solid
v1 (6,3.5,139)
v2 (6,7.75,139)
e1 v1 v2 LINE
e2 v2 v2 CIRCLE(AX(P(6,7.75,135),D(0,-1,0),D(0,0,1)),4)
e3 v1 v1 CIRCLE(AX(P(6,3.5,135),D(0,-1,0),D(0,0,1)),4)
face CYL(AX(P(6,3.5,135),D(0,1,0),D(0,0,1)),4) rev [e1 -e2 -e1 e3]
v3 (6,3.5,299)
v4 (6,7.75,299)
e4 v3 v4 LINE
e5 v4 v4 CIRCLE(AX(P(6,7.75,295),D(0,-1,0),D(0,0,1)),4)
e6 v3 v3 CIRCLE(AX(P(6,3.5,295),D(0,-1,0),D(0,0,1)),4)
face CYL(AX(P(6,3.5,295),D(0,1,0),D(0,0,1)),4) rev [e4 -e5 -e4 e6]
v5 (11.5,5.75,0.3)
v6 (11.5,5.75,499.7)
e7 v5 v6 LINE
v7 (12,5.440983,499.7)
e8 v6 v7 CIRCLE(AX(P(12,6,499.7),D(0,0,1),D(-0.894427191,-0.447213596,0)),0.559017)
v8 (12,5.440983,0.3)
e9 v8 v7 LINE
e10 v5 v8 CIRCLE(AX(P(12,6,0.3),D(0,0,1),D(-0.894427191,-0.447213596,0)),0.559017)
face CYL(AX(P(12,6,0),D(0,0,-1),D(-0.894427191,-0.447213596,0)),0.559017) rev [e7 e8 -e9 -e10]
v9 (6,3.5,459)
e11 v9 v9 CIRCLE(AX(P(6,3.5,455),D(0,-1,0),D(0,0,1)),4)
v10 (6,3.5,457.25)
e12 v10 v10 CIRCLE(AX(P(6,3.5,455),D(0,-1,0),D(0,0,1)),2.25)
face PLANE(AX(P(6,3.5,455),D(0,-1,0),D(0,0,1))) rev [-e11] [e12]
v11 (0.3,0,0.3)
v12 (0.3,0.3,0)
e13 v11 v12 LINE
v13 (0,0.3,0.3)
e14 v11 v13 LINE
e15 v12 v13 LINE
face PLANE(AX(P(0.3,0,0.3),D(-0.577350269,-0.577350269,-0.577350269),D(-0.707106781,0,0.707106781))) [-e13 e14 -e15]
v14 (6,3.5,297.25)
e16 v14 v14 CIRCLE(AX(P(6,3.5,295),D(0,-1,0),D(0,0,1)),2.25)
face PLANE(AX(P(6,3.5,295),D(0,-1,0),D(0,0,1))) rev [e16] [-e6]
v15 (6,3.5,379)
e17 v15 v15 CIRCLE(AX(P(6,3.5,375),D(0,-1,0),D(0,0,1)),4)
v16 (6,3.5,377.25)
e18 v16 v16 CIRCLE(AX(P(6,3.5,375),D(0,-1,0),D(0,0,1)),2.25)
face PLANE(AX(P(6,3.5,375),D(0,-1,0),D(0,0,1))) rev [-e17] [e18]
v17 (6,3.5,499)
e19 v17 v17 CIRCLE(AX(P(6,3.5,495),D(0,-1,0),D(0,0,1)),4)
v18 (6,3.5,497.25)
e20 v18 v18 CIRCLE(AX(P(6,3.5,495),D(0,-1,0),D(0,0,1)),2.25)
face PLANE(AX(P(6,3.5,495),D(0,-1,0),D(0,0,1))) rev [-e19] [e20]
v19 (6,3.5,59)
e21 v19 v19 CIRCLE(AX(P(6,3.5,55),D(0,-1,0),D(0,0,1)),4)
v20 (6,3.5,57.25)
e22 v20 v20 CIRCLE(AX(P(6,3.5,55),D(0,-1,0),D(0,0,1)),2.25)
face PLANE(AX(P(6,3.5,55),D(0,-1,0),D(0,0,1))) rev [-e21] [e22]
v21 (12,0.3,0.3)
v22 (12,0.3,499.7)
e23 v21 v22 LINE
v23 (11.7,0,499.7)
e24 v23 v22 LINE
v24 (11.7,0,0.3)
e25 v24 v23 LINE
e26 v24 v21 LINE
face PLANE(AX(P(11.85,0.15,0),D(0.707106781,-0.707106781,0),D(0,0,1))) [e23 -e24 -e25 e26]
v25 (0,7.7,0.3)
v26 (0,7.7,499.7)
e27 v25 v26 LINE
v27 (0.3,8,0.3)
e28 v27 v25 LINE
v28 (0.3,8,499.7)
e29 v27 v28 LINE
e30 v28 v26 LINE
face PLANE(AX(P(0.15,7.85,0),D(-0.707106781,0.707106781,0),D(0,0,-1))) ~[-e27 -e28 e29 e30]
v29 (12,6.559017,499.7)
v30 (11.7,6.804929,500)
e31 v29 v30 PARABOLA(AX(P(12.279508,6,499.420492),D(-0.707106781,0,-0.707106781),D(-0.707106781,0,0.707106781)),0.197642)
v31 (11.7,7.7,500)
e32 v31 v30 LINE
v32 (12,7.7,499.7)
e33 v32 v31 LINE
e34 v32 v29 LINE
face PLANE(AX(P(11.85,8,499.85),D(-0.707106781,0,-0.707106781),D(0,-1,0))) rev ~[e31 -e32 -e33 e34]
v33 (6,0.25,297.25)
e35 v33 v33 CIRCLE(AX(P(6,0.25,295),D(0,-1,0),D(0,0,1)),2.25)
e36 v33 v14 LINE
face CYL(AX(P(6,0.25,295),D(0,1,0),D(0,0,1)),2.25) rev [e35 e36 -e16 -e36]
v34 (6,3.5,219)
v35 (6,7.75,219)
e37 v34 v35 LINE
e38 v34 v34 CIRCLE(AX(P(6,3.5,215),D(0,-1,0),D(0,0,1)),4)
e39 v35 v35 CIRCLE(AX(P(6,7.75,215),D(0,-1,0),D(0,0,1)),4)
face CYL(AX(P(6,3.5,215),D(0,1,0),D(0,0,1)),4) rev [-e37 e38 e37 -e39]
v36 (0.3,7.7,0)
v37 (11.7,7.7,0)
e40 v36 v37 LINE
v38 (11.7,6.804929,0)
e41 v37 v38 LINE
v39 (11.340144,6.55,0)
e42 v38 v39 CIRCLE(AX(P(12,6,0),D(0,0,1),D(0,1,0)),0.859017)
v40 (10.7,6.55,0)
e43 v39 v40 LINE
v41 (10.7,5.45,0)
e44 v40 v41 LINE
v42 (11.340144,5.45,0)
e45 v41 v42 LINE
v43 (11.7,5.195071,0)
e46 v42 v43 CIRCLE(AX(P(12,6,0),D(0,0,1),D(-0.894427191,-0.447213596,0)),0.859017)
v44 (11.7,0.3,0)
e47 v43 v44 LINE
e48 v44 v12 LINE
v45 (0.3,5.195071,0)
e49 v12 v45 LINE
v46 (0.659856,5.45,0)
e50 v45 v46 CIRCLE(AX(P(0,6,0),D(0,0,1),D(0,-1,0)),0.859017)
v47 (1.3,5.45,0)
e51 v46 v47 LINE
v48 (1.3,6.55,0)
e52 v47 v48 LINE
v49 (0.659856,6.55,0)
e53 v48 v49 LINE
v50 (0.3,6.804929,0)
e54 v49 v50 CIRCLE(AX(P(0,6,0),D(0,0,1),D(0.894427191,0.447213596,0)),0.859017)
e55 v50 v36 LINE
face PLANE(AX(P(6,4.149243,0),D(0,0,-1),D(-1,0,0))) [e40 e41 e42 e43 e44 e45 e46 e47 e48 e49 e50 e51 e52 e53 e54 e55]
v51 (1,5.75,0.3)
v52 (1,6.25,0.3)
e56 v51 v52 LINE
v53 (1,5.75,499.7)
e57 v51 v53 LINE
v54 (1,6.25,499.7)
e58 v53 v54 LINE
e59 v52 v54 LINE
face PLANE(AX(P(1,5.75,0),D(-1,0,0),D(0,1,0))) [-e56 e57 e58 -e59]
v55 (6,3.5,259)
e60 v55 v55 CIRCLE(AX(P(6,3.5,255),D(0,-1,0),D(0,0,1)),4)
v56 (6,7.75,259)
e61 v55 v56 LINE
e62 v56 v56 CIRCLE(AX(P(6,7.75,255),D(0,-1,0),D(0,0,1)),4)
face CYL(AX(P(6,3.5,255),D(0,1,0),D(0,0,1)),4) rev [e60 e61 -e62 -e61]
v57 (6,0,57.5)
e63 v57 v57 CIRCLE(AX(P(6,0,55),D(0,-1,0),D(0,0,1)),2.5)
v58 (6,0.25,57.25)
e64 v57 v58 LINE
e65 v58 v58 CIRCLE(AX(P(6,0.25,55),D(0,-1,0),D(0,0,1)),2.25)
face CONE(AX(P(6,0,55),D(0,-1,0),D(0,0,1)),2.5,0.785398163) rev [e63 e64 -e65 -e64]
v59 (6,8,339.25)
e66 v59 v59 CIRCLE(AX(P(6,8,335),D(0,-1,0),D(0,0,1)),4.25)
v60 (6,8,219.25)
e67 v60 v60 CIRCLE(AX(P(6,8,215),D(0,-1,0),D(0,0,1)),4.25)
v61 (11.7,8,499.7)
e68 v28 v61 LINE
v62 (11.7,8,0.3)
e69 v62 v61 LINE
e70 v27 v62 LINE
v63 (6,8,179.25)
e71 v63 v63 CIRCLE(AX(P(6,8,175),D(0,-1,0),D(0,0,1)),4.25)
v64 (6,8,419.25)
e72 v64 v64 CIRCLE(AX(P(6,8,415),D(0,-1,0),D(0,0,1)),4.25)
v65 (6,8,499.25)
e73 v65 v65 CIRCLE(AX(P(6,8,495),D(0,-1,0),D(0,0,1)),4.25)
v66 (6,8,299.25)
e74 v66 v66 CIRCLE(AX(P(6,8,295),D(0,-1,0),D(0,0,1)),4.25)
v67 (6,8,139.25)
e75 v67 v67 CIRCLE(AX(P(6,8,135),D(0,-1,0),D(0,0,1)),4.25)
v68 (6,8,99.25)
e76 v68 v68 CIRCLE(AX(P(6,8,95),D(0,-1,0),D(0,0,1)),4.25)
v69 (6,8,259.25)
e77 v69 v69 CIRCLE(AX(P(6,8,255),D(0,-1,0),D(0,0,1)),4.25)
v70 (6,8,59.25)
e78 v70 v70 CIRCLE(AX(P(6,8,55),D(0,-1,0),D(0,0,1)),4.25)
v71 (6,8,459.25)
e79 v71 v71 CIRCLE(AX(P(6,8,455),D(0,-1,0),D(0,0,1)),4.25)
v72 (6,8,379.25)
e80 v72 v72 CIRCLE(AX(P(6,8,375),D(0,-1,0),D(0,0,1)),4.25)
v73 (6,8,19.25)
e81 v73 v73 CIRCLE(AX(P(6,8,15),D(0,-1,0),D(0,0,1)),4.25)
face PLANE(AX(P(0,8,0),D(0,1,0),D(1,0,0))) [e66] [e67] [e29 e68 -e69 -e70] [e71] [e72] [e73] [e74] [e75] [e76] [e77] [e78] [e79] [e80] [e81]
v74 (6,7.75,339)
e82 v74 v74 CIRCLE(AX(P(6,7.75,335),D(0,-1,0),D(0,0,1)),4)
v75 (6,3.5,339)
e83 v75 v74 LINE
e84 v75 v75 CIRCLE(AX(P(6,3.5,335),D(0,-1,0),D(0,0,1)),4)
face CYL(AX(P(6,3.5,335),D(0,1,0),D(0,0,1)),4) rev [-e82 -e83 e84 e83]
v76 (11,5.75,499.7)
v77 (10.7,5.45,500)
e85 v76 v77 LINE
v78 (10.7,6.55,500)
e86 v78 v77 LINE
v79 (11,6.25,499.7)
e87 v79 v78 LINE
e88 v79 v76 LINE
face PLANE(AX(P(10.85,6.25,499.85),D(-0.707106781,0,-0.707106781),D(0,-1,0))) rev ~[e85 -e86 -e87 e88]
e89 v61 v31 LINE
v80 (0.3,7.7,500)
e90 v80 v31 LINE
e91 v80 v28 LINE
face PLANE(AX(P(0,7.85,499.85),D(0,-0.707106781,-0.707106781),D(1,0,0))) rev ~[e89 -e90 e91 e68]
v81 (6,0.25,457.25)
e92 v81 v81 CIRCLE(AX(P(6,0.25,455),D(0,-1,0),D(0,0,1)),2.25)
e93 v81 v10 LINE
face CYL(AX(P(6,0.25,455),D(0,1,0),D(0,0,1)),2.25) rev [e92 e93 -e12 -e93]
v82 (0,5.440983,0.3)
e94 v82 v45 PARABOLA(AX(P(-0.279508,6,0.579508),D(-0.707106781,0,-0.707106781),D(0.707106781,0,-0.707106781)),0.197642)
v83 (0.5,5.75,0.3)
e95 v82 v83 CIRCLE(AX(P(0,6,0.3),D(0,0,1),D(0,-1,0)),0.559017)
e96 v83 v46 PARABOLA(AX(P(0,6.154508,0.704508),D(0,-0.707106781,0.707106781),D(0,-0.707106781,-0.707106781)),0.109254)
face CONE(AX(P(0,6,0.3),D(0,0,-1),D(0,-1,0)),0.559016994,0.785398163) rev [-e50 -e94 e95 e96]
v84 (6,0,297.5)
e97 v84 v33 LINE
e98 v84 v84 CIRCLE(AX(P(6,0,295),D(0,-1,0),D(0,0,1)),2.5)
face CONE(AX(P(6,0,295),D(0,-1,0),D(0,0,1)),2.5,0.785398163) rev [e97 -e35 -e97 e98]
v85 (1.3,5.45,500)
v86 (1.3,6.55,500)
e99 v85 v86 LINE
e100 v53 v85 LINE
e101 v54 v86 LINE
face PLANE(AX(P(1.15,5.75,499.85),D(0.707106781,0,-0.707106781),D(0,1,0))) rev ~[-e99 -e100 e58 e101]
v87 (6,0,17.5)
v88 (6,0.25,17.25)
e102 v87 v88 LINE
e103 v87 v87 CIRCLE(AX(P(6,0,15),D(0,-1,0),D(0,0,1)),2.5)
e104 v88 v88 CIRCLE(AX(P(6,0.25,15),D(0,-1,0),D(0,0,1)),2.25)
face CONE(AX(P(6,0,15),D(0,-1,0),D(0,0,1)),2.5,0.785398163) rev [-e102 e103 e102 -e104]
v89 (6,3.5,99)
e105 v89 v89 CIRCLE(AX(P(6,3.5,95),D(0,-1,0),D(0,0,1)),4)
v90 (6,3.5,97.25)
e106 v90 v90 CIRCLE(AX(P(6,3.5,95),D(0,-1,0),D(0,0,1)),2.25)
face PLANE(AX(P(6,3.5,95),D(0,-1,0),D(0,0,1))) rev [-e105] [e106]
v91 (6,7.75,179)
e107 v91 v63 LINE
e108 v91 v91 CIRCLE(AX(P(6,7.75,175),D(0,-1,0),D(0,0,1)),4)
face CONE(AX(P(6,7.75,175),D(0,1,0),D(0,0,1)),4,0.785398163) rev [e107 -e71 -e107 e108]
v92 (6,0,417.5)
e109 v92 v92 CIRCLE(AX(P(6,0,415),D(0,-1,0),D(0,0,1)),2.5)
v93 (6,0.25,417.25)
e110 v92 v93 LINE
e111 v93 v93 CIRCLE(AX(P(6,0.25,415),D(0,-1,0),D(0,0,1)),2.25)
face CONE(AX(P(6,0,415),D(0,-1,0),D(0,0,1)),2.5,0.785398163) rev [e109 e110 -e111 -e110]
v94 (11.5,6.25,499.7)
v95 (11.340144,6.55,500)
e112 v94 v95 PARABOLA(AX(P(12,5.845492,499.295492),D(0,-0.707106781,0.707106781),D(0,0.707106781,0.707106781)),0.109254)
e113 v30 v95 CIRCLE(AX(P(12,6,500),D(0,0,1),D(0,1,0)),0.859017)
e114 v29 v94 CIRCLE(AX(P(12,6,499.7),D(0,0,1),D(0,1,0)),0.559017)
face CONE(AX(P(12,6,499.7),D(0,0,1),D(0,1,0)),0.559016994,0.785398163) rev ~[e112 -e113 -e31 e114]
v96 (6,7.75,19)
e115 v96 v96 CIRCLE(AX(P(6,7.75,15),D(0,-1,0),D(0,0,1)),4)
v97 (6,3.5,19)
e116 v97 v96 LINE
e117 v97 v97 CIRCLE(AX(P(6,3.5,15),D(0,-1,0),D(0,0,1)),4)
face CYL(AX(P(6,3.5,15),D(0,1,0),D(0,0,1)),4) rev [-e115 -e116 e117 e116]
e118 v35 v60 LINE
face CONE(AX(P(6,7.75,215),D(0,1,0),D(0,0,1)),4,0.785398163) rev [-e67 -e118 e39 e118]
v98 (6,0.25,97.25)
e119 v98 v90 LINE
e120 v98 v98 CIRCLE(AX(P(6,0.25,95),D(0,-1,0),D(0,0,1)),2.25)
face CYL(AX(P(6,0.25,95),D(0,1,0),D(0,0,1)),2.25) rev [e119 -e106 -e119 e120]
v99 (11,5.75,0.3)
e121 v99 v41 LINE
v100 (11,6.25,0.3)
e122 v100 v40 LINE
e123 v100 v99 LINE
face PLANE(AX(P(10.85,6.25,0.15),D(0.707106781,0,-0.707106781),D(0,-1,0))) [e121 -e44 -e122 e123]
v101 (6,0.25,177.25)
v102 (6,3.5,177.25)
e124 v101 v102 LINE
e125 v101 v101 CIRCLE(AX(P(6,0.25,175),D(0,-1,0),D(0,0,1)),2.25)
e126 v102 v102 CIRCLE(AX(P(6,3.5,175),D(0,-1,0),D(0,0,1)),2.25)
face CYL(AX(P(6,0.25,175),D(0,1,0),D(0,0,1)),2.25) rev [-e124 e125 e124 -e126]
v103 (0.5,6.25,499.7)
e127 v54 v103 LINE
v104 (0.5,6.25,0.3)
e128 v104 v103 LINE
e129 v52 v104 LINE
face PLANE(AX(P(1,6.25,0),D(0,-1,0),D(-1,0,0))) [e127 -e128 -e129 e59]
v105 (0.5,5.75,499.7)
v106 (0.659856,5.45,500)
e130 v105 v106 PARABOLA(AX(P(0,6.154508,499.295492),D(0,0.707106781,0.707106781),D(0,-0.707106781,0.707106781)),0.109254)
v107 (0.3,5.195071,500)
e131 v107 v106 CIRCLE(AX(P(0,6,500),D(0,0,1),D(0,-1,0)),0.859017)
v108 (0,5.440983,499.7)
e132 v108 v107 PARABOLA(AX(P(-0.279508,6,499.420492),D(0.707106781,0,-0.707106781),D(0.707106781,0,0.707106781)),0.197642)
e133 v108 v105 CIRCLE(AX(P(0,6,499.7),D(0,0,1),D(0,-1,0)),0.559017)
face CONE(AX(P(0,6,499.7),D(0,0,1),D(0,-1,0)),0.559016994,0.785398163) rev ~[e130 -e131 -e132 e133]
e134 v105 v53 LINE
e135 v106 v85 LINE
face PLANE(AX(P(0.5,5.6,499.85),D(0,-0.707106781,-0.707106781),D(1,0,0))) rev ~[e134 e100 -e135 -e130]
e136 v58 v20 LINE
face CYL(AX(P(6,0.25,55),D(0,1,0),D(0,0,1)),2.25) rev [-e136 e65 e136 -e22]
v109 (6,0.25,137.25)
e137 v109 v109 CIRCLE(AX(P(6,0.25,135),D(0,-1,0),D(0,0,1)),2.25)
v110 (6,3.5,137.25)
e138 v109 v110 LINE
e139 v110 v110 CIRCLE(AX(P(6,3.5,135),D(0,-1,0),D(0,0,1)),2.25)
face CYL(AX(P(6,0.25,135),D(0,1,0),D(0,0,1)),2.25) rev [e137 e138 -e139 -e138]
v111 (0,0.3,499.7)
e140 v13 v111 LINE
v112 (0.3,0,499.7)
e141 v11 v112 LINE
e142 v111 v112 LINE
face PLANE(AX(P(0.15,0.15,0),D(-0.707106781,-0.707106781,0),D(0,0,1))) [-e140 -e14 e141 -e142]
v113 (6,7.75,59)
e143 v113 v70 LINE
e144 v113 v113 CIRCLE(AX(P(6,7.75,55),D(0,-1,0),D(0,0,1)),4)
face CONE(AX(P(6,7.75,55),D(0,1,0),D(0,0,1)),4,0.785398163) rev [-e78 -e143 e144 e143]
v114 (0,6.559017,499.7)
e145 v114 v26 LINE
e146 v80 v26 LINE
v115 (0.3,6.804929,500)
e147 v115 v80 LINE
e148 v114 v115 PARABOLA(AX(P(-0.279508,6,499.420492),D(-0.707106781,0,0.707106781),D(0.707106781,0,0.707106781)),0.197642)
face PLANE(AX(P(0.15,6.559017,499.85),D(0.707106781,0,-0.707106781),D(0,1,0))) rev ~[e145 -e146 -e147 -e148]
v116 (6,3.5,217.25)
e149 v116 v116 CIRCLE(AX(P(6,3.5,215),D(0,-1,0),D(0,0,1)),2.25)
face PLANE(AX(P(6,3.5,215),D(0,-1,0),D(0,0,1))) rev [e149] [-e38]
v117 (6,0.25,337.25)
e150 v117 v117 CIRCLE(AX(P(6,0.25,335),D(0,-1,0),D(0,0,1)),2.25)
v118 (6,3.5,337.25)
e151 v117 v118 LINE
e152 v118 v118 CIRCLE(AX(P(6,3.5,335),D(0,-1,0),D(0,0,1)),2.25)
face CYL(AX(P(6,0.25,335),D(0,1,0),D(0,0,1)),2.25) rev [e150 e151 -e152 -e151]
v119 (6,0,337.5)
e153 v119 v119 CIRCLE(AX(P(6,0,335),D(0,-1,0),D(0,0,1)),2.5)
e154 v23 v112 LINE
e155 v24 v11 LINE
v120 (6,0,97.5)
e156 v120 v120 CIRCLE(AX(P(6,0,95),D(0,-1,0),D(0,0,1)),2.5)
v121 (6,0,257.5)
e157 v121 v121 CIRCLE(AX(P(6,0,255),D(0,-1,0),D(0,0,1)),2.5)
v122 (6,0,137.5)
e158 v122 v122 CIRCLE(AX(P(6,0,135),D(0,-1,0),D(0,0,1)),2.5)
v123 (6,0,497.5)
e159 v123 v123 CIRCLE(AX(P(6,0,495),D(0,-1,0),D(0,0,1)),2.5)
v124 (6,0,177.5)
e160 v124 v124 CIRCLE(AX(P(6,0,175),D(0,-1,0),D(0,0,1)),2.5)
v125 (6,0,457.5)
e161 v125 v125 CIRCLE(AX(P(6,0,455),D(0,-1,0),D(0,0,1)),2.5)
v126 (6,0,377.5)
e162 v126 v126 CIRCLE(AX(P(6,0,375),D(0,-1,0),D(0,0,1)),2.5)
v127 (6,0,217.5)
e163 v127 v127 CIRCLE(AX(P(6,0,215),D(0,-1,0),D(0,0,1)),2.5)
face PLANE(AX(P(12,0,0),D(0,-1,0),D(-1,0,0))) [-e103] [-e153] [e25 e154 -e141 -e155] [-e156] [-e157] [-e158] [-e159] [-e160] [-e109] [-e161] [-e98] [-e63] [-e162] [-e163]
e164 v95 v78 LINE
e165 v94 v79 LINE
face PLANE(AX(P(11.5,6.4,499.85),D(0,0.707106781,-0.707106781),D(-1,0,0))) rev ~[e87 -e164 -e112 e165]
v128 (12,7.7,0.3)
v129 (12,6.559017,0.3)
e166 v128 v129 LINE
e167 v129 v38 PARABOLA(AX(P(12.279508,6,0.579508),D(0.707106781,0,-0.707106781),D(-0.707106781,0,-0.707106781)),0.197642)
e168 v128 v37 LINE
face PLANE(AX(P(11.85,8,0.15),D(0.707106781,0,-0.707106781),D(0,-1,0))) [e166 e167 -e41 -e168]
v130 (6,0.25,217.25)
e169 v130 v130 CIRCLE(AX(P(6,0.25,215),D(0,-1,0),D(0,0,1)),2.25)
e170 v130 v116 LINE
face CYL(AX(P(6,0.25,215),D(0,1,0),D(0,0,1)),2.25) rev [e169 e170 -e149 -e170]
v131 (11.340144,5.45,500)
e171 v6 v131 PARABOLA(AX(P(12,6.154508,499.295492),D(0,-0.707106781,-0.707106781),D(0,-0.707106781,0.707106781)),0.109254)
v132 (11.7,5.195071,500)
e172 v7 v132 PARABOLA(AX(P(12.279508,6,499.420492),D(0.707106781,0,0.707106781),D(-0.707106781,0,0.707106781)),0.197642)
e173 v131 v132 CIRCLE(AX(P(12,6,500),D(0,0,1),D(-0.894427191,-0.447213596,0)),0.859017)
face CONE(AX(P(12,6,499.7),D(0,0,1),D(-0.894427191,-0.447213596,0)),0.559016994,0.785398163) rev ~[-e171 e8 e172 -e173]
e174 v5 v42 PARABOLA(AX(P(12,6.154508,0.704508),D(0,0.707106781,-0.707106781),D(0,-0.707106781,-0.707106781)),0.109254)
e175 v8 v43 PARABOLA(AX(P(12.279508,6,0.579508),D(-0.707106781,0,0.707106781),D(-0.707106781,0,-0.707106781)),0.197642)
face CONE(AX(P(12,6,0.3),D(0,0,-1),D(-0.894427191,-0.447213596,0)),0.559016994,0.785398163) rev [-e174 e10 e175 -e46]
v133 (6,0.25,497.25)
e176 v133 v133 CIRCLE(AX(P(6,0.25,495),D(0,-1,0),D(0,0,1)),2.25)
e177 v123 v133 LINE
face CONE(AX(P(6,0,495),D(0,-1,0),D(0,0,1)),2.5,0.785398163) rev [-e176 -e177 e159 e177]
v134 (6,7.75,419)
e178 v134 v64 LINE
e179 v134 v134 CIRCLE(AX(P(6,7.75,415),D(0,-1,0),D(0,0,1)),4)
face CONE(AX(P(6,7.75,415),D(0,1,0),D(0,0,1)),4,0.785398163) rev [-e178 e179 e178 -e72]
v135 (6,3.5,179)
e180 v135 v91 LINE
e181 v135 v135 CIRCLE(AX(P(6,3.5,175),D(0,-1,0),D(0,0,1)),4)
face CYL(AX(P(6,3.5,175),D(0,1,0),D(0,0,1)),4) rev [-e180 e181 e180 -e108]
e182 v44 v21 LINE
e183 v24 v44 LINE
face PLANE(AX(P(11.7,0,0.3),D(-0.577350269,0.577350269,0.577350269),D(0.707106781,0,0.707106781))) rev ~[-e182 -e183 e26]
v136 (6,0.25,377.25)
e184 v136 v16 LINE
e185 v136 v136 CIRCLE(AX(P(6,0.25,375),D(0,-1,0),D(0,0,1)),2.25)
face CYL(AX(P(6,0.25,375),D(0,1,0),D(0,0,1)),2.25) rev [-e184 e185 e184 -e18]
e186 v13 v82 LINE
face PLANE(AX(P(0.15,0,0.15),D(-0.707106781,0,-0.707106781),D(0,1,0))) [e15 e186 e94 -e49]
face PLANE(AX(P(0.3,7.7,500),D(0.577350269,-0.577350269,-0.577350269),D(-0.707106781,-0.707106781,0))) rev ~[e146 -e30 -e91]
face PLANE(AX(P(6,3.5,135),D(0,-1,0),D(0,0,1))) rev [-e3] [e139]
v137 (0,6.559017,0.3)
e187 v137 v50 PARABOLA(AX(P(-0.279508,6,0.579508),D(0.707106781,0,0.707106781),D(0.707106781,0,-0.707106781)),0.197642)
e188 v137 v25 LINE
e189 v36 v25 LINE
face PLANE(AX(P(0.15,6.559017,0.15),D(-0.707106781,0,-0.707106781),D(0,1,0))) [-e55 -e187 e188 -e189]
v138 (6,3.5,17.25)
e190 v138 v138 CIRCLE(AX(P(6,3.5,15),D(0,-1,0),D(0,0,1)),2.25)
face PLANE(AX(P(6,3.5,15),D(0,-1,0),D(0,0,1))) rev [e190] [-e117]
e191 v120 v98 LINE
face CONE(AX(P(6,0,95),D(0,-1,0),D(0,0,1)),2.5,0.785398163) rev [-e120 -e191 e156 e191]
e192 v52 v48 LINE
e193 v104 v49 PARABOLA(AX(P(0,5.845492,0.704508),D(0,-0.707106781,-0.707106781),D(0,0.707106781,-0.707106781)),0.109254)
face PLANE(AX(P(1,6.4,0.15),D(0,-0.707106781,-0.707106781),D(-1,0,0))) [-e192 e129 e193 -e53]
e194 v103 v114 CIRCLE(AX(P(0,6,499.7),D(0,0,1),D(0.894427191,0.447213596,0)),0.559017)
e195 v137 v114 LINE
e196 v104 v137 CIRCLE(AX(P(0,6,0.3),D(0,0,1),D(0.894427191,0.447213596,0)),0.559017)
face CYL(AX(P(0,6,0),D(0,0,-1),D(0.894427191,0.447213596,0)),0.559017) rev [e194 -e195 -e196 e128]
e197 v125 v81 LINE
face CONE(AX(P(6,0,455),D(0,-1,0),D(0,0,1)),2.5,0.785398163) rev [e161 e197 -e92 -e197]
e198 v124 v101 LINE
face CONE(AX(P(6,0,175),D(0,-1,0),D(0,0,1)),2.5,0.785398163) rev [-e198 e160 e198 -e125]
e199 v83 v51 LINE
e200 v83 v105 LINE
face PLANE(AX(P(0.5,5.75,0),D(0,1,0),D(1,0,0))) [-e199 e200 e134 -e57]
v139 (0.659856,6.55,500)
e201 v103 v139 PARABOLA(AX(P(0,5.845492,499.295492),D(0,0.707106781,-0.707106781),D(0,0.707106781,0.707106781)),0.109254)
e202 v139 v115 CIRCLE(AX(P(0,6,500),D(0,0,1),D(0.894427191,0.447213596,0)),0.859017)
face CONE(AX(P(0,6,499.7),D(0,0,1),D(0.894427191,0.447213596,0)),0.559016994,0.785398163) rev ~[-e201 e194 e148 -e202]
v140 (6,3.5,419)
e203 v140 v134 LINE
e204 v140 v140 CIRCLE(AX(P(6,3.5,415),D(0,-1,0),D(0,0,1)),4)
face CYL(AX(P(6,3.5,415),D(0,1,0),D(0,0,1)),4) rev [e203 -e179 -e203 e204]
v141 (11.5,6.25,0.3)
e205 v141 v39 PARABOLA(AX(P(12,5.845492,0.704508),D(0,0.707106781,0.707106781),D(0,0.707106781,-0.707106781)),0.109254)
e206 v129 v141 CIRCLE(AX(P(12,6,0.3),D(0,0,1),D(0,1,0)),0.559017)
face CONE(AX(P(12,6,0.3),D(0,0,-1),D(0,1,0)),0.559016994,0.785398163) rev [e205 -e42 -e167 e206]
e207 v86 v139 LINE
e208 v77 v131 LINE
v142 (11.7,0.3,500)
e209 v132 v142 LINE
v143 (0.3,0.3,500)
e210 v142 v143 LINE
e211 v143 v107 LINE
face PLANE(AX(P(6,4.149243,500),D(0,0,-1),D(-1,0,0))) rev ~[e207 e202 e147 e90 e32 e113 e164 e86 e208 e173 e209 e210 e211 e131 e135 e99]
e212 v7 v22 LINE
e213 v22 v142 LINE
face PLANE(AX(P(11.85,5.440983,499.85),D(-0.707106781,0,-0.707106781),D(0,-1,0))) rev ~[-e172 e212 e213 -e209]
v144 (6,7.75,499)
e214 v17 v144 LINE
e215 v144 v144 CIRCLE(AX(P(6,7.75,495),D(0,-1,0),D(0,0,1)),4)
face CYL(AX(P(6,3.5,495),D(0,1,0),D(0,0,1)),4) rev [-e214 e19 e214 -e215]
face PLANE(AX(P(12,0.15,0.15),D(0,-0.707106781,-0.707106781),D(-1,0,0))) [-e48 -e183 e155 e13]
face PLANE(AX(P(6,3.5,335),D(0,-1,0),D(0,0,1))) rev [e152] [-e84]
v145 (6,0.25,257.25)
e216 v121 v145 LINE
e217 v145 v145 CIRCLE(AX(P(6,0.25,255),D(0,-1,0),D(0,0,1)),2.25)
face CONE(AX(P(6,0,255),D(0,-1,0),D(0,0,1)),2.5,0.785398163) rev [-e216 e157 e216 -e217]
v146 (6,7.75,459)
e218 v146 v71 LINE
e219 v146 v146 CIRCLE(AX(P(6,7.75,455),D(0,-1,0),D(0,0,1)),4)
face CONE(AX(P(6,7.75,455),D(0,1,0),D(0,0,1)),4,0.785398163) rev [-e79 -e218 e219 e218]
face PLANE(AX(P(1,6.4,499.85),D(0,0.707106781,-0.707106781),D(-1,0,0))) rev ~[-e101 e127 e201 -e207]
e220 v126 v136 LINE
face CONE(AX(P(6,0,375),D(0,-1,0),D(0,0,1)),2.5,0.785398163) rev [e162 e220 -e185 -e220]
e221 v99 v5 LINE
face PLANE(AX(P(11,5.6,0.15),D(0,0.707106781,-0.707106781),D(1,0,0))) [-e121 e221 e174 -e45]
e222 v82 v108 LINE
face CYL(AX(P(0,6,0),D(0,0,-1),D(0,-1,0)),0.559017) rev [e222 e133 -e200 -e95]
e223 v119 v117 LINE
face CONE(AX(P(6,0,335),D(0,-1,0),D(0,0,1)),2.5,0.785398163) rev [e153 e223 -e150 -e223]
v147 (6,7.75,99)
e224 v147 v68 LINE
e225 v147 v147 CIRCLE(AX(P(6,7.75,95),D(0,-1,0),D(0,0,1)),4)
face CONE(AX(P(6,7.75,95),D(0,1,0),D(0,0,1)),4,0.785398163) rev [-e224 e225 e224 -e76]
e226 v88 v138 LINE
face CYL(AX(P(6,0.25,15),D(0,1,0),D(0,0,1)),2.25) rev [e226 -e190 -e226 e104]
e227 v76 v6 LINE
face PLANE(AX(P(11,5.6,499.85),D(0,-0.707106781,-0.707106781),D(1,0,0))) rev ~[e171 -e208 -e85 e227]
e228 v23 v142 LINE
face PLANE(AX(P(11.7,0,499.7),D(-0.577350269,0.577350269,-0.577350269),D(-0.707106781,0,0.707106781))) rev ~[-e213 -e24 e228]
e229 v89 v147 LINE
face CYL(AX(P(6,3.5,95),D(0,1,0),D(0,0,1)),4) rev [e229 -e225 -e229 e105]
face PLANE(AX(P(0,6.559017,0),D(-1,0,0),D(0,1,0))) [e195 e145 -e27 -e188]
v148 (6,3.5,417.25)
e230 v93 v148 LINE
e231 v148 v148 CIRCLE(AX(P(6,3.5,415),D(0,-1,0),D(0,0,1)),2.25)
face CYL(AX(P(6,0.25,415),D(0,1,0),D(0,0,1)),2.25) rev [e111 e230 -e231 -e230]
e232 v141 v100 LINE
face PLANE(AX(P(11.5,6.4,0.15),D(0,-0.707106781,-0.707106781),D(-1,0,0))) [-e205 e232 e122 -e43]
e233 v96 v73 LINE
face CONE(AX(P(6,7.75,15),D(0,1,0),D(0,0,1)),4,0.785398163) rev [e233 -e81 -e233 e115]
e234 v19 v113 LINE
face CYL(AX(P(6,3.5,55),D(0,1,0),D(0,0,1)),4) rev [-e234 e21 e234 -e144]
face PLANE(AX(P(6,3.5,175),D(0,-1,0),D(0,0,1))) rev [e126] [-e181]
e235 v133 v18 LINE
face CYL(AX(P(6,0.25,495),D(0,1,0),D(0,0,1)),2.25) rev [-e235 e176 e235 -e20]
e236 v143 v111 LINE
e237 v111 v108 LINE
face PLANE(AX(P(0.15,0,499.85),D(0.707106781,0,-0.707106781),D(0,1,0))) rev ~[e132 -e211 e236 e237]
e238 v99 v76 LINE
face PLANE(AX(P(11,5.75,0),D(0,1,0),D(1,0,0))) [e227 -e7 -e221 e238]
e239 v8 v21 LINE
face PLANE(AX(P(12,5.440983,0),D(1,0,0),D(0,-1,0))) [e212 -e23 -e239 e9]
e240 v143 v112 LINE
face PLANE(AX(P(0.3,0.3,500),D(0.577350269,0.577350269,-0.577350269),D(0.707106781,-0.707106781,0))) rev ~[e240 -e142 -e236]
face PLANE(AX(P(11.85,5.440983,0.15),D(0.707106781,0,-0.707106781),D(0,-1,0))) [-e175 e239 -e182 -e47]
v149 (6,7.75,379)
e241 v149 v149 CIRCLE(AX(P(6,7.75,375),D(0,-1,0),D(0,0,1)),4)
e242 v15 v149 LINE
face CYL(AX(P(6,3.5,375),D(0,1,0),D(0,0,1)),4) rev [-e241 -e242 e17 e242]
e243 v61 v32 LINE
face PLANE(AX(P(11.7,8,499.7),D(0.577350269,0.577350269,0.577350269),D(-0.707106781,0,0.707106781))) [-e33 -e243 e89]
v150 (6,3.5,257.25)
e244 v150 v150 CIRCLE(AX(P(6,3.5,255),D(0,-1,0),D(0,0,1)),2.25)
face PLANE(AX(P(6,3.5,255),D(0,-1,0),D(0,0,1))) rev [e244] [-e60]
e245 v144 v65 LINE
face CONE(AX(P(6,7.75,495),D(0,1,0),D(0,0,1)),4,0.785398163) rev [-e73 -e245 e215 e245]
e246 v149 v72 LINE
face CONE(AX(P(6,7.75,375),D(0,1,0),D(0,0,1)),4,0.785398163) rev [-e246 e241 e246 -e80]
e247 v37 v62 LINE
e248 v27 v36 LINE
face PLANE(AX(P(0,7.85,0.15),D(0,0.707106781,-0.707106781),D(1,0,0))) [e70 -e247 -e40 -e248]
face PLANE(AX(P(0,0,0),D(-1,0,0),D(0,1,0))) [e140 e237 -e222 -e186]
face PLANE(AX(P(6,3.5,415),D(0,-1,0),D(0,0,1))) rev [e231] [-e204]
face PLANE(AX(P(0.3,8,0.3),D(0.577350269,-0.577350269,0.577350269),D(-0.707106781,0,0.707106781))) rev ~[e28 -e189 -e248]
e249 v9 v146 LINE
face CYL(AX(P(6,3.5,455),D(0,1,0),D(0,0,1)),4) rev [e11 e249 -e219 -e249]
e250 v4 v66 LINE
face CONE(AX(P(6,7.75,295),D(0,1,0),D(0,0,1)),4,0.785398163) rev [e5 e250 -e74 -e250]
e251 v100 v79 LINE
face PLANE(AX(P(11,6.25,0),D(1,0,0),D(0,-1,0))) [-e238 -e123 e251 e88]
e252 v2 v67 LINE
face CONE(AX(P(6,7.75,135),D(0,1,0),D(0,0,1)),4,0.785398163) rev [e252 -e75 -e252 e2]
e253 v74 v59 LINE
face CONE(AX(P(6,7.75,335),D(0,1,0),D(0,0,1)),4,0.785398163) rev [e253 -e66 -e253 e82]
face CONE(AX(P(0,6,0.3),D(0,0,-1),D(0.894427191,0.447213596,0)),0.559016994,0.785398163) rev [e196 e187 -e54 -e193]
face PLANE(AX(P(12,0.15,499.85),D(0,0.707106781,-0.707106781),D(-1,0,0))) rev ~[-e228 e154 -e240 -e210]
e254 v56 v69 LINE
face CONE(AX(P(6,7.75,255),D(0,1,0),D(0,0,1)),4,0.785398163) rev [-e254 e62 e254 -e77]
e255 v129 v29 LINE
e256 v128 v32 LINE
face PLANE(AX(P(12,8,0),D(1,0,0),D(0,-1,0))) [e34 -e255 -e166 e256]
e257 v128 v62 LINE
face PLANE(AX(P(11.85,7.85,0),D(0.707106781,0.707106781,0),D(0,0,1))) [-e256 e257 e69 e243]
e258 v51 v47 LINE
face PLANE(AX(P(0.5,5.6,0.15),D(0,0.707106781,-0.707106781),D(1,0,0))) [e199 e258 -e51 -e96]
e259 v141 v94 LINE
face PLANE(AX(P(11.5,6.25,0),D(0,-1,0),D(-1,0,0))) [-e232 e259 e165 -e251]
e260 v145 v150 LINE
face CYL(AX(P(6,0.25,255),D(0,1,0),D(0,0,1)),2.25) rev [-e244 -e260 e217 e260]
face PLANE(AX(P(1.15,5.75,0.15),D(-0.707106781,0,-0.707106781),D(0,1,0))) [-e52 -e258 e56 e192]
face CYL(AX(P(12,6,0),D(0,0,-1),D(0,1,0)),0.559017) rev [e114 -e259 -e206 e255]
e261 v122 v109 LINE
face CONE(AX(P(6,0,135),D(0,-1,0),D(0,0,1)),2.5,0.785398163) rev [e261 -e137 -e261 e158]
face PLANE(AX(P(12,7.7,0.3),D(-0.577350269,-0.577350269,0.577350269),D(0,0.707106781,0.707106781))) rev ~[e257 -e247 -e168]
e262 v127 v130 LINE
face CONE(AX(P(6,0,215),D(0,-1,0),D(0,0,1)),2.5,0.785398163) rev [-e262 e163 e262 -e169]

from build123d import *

# Parameters (mm, degrees)
BOSS_EXTRUDE1_DEPTH = 500
CHAMFER1_SIZE       = 0.3
LPATTERN1_COUNT     = 13
LPATTERN1_PITCH     = 40


with BuildPart() as part:
    # Sketch1 → Boss-Extrude1 (new body)
    with BuildSketch(Plane.XY):
        with BuildLine():
            Line((0, 8), (12, 8))
            Line((12, 8), (12, 6.75))
            Line((12, 6.75), (12, 6.559016994))
            ThreePointArc((12, 6.559016994), (11.706107374, 6.475528258), (11.5, 6.25))
            Line((11.5, 6.25), (11, 6.25))
            Line((11, 6.25), (11, 5.75))
            Line((11, 5.75), (11.5, 5.75))
            ThreePointArc((11.5, 5.75), (11.706107374, 5.524471742), (12, 5.440983006))
            Line((12, 5.440983006), (12, 5.25))
            Line((12, 5.25), (12, 0))
            Line((12, 0), (0, 0))
            Line((0, 0), (0, 5.25))
            Line((0, 5.25), (0, 5.440983006))
            ThreePointArc((0, 5.440983006), (0.293892626, 5.524471742), (0.5, 5.75))
            Line((0.5, 5.75), (1, 5.75))
            Line((1, 5.75), (1, 6.25))
            Line((1, 6.25), (0.5, 6.25))
            ThreePointArc((0.5, 6.25), (0.293892626, 6.475528258), (0, 6.559016994))
            Line((0, 6.559016994), (0, 6.75))
            Line((0, 6.75), (0, 8))
        make_face()
    extrude(amount=BOSS_EXTRUDE1_DEPTH)

    # Chamfer1
    chamfer1_edges = [part.edges().sort_by_distance(p)[0] for p in [
        (12, 2.720491503, 500),
        (11.706107374, 5.524471742, 500),
        (0, 2.720491503, 0),
        (0.293892626, 5.524471742, 0),
        (0.75, 5.75, 0),
        (1, 6, 0),
        (0.75, 6.25, 0),
        (11.25, 5.75, 500),
        (0.293892626, 6.475528258, 0),
        (0, 7.279508497, 0),
        (6, 8, 0),
        (12, 7.279508497, 0),
        (11.706107374, 6.475528258, 0),
        (11, 6, 500),
        (11.25, 6.25, 0),
        (11, 6, 0),
        (11.25, 5.75, 0),
        (11.706107374, 5.524471742, 0),
        (12, 2.720491503, 0),
        (6, 0, 0),
        (11.25, 6.25, 500),
        (11.706107374, 6.475528258, 500),
        (12, 7.279508497, 500),
        (0, 8, 250),
        (12, 8, 250),
        (12, 0, 250),
        (0, 0, 250),
        (6, 8, 500),
        (0, 2.720491503, 500),
        (0, 7.279508497, 500),
        (0.293892626, 6.475528258, 500),
        (0.75, 6.25, 500),
        (1, 6, 500),
        (0.75, 5.75, 500),
        (0.293892626, 5.524471742, 500),
        (6, 0, 500),
    ]]
    chamfer(chamfer1_edges, length=CHAMFER1_SIZE)

    # Sketch3 → CBORE for M5 Hex Head Bolt1 (revolve, cut)
    with BuildSketch(Plane(origin=(6, 8, 15), x_dir=(0, 0, 1), z_dir=(1, 0, 0))):
        Polygon((0, 0), (0, 8), (2.5, 8), (2.25, 7.75), (2.25, 4.5), (4, 4.5), (4, 0.25), (4.25, 0), align=None)
    cbore_for_m5_hex_head_bolt1 = revolve(axis=Axis((6, 14.35, 15), (0, -1, 0)), mode=Mode.SUBTRACT)

    # LPattern1: CBORE for M5 Hex Head Bolt1 ×13
    with Locations(*[(0, 0, i * LPATTERN1_PITCH) for i in range(1, LPATTERN1_COUNT)]):
        add(cbore_for_m5_hex_head_bolt1, mode=Mode.SUBTRACT)


solid = part.part
